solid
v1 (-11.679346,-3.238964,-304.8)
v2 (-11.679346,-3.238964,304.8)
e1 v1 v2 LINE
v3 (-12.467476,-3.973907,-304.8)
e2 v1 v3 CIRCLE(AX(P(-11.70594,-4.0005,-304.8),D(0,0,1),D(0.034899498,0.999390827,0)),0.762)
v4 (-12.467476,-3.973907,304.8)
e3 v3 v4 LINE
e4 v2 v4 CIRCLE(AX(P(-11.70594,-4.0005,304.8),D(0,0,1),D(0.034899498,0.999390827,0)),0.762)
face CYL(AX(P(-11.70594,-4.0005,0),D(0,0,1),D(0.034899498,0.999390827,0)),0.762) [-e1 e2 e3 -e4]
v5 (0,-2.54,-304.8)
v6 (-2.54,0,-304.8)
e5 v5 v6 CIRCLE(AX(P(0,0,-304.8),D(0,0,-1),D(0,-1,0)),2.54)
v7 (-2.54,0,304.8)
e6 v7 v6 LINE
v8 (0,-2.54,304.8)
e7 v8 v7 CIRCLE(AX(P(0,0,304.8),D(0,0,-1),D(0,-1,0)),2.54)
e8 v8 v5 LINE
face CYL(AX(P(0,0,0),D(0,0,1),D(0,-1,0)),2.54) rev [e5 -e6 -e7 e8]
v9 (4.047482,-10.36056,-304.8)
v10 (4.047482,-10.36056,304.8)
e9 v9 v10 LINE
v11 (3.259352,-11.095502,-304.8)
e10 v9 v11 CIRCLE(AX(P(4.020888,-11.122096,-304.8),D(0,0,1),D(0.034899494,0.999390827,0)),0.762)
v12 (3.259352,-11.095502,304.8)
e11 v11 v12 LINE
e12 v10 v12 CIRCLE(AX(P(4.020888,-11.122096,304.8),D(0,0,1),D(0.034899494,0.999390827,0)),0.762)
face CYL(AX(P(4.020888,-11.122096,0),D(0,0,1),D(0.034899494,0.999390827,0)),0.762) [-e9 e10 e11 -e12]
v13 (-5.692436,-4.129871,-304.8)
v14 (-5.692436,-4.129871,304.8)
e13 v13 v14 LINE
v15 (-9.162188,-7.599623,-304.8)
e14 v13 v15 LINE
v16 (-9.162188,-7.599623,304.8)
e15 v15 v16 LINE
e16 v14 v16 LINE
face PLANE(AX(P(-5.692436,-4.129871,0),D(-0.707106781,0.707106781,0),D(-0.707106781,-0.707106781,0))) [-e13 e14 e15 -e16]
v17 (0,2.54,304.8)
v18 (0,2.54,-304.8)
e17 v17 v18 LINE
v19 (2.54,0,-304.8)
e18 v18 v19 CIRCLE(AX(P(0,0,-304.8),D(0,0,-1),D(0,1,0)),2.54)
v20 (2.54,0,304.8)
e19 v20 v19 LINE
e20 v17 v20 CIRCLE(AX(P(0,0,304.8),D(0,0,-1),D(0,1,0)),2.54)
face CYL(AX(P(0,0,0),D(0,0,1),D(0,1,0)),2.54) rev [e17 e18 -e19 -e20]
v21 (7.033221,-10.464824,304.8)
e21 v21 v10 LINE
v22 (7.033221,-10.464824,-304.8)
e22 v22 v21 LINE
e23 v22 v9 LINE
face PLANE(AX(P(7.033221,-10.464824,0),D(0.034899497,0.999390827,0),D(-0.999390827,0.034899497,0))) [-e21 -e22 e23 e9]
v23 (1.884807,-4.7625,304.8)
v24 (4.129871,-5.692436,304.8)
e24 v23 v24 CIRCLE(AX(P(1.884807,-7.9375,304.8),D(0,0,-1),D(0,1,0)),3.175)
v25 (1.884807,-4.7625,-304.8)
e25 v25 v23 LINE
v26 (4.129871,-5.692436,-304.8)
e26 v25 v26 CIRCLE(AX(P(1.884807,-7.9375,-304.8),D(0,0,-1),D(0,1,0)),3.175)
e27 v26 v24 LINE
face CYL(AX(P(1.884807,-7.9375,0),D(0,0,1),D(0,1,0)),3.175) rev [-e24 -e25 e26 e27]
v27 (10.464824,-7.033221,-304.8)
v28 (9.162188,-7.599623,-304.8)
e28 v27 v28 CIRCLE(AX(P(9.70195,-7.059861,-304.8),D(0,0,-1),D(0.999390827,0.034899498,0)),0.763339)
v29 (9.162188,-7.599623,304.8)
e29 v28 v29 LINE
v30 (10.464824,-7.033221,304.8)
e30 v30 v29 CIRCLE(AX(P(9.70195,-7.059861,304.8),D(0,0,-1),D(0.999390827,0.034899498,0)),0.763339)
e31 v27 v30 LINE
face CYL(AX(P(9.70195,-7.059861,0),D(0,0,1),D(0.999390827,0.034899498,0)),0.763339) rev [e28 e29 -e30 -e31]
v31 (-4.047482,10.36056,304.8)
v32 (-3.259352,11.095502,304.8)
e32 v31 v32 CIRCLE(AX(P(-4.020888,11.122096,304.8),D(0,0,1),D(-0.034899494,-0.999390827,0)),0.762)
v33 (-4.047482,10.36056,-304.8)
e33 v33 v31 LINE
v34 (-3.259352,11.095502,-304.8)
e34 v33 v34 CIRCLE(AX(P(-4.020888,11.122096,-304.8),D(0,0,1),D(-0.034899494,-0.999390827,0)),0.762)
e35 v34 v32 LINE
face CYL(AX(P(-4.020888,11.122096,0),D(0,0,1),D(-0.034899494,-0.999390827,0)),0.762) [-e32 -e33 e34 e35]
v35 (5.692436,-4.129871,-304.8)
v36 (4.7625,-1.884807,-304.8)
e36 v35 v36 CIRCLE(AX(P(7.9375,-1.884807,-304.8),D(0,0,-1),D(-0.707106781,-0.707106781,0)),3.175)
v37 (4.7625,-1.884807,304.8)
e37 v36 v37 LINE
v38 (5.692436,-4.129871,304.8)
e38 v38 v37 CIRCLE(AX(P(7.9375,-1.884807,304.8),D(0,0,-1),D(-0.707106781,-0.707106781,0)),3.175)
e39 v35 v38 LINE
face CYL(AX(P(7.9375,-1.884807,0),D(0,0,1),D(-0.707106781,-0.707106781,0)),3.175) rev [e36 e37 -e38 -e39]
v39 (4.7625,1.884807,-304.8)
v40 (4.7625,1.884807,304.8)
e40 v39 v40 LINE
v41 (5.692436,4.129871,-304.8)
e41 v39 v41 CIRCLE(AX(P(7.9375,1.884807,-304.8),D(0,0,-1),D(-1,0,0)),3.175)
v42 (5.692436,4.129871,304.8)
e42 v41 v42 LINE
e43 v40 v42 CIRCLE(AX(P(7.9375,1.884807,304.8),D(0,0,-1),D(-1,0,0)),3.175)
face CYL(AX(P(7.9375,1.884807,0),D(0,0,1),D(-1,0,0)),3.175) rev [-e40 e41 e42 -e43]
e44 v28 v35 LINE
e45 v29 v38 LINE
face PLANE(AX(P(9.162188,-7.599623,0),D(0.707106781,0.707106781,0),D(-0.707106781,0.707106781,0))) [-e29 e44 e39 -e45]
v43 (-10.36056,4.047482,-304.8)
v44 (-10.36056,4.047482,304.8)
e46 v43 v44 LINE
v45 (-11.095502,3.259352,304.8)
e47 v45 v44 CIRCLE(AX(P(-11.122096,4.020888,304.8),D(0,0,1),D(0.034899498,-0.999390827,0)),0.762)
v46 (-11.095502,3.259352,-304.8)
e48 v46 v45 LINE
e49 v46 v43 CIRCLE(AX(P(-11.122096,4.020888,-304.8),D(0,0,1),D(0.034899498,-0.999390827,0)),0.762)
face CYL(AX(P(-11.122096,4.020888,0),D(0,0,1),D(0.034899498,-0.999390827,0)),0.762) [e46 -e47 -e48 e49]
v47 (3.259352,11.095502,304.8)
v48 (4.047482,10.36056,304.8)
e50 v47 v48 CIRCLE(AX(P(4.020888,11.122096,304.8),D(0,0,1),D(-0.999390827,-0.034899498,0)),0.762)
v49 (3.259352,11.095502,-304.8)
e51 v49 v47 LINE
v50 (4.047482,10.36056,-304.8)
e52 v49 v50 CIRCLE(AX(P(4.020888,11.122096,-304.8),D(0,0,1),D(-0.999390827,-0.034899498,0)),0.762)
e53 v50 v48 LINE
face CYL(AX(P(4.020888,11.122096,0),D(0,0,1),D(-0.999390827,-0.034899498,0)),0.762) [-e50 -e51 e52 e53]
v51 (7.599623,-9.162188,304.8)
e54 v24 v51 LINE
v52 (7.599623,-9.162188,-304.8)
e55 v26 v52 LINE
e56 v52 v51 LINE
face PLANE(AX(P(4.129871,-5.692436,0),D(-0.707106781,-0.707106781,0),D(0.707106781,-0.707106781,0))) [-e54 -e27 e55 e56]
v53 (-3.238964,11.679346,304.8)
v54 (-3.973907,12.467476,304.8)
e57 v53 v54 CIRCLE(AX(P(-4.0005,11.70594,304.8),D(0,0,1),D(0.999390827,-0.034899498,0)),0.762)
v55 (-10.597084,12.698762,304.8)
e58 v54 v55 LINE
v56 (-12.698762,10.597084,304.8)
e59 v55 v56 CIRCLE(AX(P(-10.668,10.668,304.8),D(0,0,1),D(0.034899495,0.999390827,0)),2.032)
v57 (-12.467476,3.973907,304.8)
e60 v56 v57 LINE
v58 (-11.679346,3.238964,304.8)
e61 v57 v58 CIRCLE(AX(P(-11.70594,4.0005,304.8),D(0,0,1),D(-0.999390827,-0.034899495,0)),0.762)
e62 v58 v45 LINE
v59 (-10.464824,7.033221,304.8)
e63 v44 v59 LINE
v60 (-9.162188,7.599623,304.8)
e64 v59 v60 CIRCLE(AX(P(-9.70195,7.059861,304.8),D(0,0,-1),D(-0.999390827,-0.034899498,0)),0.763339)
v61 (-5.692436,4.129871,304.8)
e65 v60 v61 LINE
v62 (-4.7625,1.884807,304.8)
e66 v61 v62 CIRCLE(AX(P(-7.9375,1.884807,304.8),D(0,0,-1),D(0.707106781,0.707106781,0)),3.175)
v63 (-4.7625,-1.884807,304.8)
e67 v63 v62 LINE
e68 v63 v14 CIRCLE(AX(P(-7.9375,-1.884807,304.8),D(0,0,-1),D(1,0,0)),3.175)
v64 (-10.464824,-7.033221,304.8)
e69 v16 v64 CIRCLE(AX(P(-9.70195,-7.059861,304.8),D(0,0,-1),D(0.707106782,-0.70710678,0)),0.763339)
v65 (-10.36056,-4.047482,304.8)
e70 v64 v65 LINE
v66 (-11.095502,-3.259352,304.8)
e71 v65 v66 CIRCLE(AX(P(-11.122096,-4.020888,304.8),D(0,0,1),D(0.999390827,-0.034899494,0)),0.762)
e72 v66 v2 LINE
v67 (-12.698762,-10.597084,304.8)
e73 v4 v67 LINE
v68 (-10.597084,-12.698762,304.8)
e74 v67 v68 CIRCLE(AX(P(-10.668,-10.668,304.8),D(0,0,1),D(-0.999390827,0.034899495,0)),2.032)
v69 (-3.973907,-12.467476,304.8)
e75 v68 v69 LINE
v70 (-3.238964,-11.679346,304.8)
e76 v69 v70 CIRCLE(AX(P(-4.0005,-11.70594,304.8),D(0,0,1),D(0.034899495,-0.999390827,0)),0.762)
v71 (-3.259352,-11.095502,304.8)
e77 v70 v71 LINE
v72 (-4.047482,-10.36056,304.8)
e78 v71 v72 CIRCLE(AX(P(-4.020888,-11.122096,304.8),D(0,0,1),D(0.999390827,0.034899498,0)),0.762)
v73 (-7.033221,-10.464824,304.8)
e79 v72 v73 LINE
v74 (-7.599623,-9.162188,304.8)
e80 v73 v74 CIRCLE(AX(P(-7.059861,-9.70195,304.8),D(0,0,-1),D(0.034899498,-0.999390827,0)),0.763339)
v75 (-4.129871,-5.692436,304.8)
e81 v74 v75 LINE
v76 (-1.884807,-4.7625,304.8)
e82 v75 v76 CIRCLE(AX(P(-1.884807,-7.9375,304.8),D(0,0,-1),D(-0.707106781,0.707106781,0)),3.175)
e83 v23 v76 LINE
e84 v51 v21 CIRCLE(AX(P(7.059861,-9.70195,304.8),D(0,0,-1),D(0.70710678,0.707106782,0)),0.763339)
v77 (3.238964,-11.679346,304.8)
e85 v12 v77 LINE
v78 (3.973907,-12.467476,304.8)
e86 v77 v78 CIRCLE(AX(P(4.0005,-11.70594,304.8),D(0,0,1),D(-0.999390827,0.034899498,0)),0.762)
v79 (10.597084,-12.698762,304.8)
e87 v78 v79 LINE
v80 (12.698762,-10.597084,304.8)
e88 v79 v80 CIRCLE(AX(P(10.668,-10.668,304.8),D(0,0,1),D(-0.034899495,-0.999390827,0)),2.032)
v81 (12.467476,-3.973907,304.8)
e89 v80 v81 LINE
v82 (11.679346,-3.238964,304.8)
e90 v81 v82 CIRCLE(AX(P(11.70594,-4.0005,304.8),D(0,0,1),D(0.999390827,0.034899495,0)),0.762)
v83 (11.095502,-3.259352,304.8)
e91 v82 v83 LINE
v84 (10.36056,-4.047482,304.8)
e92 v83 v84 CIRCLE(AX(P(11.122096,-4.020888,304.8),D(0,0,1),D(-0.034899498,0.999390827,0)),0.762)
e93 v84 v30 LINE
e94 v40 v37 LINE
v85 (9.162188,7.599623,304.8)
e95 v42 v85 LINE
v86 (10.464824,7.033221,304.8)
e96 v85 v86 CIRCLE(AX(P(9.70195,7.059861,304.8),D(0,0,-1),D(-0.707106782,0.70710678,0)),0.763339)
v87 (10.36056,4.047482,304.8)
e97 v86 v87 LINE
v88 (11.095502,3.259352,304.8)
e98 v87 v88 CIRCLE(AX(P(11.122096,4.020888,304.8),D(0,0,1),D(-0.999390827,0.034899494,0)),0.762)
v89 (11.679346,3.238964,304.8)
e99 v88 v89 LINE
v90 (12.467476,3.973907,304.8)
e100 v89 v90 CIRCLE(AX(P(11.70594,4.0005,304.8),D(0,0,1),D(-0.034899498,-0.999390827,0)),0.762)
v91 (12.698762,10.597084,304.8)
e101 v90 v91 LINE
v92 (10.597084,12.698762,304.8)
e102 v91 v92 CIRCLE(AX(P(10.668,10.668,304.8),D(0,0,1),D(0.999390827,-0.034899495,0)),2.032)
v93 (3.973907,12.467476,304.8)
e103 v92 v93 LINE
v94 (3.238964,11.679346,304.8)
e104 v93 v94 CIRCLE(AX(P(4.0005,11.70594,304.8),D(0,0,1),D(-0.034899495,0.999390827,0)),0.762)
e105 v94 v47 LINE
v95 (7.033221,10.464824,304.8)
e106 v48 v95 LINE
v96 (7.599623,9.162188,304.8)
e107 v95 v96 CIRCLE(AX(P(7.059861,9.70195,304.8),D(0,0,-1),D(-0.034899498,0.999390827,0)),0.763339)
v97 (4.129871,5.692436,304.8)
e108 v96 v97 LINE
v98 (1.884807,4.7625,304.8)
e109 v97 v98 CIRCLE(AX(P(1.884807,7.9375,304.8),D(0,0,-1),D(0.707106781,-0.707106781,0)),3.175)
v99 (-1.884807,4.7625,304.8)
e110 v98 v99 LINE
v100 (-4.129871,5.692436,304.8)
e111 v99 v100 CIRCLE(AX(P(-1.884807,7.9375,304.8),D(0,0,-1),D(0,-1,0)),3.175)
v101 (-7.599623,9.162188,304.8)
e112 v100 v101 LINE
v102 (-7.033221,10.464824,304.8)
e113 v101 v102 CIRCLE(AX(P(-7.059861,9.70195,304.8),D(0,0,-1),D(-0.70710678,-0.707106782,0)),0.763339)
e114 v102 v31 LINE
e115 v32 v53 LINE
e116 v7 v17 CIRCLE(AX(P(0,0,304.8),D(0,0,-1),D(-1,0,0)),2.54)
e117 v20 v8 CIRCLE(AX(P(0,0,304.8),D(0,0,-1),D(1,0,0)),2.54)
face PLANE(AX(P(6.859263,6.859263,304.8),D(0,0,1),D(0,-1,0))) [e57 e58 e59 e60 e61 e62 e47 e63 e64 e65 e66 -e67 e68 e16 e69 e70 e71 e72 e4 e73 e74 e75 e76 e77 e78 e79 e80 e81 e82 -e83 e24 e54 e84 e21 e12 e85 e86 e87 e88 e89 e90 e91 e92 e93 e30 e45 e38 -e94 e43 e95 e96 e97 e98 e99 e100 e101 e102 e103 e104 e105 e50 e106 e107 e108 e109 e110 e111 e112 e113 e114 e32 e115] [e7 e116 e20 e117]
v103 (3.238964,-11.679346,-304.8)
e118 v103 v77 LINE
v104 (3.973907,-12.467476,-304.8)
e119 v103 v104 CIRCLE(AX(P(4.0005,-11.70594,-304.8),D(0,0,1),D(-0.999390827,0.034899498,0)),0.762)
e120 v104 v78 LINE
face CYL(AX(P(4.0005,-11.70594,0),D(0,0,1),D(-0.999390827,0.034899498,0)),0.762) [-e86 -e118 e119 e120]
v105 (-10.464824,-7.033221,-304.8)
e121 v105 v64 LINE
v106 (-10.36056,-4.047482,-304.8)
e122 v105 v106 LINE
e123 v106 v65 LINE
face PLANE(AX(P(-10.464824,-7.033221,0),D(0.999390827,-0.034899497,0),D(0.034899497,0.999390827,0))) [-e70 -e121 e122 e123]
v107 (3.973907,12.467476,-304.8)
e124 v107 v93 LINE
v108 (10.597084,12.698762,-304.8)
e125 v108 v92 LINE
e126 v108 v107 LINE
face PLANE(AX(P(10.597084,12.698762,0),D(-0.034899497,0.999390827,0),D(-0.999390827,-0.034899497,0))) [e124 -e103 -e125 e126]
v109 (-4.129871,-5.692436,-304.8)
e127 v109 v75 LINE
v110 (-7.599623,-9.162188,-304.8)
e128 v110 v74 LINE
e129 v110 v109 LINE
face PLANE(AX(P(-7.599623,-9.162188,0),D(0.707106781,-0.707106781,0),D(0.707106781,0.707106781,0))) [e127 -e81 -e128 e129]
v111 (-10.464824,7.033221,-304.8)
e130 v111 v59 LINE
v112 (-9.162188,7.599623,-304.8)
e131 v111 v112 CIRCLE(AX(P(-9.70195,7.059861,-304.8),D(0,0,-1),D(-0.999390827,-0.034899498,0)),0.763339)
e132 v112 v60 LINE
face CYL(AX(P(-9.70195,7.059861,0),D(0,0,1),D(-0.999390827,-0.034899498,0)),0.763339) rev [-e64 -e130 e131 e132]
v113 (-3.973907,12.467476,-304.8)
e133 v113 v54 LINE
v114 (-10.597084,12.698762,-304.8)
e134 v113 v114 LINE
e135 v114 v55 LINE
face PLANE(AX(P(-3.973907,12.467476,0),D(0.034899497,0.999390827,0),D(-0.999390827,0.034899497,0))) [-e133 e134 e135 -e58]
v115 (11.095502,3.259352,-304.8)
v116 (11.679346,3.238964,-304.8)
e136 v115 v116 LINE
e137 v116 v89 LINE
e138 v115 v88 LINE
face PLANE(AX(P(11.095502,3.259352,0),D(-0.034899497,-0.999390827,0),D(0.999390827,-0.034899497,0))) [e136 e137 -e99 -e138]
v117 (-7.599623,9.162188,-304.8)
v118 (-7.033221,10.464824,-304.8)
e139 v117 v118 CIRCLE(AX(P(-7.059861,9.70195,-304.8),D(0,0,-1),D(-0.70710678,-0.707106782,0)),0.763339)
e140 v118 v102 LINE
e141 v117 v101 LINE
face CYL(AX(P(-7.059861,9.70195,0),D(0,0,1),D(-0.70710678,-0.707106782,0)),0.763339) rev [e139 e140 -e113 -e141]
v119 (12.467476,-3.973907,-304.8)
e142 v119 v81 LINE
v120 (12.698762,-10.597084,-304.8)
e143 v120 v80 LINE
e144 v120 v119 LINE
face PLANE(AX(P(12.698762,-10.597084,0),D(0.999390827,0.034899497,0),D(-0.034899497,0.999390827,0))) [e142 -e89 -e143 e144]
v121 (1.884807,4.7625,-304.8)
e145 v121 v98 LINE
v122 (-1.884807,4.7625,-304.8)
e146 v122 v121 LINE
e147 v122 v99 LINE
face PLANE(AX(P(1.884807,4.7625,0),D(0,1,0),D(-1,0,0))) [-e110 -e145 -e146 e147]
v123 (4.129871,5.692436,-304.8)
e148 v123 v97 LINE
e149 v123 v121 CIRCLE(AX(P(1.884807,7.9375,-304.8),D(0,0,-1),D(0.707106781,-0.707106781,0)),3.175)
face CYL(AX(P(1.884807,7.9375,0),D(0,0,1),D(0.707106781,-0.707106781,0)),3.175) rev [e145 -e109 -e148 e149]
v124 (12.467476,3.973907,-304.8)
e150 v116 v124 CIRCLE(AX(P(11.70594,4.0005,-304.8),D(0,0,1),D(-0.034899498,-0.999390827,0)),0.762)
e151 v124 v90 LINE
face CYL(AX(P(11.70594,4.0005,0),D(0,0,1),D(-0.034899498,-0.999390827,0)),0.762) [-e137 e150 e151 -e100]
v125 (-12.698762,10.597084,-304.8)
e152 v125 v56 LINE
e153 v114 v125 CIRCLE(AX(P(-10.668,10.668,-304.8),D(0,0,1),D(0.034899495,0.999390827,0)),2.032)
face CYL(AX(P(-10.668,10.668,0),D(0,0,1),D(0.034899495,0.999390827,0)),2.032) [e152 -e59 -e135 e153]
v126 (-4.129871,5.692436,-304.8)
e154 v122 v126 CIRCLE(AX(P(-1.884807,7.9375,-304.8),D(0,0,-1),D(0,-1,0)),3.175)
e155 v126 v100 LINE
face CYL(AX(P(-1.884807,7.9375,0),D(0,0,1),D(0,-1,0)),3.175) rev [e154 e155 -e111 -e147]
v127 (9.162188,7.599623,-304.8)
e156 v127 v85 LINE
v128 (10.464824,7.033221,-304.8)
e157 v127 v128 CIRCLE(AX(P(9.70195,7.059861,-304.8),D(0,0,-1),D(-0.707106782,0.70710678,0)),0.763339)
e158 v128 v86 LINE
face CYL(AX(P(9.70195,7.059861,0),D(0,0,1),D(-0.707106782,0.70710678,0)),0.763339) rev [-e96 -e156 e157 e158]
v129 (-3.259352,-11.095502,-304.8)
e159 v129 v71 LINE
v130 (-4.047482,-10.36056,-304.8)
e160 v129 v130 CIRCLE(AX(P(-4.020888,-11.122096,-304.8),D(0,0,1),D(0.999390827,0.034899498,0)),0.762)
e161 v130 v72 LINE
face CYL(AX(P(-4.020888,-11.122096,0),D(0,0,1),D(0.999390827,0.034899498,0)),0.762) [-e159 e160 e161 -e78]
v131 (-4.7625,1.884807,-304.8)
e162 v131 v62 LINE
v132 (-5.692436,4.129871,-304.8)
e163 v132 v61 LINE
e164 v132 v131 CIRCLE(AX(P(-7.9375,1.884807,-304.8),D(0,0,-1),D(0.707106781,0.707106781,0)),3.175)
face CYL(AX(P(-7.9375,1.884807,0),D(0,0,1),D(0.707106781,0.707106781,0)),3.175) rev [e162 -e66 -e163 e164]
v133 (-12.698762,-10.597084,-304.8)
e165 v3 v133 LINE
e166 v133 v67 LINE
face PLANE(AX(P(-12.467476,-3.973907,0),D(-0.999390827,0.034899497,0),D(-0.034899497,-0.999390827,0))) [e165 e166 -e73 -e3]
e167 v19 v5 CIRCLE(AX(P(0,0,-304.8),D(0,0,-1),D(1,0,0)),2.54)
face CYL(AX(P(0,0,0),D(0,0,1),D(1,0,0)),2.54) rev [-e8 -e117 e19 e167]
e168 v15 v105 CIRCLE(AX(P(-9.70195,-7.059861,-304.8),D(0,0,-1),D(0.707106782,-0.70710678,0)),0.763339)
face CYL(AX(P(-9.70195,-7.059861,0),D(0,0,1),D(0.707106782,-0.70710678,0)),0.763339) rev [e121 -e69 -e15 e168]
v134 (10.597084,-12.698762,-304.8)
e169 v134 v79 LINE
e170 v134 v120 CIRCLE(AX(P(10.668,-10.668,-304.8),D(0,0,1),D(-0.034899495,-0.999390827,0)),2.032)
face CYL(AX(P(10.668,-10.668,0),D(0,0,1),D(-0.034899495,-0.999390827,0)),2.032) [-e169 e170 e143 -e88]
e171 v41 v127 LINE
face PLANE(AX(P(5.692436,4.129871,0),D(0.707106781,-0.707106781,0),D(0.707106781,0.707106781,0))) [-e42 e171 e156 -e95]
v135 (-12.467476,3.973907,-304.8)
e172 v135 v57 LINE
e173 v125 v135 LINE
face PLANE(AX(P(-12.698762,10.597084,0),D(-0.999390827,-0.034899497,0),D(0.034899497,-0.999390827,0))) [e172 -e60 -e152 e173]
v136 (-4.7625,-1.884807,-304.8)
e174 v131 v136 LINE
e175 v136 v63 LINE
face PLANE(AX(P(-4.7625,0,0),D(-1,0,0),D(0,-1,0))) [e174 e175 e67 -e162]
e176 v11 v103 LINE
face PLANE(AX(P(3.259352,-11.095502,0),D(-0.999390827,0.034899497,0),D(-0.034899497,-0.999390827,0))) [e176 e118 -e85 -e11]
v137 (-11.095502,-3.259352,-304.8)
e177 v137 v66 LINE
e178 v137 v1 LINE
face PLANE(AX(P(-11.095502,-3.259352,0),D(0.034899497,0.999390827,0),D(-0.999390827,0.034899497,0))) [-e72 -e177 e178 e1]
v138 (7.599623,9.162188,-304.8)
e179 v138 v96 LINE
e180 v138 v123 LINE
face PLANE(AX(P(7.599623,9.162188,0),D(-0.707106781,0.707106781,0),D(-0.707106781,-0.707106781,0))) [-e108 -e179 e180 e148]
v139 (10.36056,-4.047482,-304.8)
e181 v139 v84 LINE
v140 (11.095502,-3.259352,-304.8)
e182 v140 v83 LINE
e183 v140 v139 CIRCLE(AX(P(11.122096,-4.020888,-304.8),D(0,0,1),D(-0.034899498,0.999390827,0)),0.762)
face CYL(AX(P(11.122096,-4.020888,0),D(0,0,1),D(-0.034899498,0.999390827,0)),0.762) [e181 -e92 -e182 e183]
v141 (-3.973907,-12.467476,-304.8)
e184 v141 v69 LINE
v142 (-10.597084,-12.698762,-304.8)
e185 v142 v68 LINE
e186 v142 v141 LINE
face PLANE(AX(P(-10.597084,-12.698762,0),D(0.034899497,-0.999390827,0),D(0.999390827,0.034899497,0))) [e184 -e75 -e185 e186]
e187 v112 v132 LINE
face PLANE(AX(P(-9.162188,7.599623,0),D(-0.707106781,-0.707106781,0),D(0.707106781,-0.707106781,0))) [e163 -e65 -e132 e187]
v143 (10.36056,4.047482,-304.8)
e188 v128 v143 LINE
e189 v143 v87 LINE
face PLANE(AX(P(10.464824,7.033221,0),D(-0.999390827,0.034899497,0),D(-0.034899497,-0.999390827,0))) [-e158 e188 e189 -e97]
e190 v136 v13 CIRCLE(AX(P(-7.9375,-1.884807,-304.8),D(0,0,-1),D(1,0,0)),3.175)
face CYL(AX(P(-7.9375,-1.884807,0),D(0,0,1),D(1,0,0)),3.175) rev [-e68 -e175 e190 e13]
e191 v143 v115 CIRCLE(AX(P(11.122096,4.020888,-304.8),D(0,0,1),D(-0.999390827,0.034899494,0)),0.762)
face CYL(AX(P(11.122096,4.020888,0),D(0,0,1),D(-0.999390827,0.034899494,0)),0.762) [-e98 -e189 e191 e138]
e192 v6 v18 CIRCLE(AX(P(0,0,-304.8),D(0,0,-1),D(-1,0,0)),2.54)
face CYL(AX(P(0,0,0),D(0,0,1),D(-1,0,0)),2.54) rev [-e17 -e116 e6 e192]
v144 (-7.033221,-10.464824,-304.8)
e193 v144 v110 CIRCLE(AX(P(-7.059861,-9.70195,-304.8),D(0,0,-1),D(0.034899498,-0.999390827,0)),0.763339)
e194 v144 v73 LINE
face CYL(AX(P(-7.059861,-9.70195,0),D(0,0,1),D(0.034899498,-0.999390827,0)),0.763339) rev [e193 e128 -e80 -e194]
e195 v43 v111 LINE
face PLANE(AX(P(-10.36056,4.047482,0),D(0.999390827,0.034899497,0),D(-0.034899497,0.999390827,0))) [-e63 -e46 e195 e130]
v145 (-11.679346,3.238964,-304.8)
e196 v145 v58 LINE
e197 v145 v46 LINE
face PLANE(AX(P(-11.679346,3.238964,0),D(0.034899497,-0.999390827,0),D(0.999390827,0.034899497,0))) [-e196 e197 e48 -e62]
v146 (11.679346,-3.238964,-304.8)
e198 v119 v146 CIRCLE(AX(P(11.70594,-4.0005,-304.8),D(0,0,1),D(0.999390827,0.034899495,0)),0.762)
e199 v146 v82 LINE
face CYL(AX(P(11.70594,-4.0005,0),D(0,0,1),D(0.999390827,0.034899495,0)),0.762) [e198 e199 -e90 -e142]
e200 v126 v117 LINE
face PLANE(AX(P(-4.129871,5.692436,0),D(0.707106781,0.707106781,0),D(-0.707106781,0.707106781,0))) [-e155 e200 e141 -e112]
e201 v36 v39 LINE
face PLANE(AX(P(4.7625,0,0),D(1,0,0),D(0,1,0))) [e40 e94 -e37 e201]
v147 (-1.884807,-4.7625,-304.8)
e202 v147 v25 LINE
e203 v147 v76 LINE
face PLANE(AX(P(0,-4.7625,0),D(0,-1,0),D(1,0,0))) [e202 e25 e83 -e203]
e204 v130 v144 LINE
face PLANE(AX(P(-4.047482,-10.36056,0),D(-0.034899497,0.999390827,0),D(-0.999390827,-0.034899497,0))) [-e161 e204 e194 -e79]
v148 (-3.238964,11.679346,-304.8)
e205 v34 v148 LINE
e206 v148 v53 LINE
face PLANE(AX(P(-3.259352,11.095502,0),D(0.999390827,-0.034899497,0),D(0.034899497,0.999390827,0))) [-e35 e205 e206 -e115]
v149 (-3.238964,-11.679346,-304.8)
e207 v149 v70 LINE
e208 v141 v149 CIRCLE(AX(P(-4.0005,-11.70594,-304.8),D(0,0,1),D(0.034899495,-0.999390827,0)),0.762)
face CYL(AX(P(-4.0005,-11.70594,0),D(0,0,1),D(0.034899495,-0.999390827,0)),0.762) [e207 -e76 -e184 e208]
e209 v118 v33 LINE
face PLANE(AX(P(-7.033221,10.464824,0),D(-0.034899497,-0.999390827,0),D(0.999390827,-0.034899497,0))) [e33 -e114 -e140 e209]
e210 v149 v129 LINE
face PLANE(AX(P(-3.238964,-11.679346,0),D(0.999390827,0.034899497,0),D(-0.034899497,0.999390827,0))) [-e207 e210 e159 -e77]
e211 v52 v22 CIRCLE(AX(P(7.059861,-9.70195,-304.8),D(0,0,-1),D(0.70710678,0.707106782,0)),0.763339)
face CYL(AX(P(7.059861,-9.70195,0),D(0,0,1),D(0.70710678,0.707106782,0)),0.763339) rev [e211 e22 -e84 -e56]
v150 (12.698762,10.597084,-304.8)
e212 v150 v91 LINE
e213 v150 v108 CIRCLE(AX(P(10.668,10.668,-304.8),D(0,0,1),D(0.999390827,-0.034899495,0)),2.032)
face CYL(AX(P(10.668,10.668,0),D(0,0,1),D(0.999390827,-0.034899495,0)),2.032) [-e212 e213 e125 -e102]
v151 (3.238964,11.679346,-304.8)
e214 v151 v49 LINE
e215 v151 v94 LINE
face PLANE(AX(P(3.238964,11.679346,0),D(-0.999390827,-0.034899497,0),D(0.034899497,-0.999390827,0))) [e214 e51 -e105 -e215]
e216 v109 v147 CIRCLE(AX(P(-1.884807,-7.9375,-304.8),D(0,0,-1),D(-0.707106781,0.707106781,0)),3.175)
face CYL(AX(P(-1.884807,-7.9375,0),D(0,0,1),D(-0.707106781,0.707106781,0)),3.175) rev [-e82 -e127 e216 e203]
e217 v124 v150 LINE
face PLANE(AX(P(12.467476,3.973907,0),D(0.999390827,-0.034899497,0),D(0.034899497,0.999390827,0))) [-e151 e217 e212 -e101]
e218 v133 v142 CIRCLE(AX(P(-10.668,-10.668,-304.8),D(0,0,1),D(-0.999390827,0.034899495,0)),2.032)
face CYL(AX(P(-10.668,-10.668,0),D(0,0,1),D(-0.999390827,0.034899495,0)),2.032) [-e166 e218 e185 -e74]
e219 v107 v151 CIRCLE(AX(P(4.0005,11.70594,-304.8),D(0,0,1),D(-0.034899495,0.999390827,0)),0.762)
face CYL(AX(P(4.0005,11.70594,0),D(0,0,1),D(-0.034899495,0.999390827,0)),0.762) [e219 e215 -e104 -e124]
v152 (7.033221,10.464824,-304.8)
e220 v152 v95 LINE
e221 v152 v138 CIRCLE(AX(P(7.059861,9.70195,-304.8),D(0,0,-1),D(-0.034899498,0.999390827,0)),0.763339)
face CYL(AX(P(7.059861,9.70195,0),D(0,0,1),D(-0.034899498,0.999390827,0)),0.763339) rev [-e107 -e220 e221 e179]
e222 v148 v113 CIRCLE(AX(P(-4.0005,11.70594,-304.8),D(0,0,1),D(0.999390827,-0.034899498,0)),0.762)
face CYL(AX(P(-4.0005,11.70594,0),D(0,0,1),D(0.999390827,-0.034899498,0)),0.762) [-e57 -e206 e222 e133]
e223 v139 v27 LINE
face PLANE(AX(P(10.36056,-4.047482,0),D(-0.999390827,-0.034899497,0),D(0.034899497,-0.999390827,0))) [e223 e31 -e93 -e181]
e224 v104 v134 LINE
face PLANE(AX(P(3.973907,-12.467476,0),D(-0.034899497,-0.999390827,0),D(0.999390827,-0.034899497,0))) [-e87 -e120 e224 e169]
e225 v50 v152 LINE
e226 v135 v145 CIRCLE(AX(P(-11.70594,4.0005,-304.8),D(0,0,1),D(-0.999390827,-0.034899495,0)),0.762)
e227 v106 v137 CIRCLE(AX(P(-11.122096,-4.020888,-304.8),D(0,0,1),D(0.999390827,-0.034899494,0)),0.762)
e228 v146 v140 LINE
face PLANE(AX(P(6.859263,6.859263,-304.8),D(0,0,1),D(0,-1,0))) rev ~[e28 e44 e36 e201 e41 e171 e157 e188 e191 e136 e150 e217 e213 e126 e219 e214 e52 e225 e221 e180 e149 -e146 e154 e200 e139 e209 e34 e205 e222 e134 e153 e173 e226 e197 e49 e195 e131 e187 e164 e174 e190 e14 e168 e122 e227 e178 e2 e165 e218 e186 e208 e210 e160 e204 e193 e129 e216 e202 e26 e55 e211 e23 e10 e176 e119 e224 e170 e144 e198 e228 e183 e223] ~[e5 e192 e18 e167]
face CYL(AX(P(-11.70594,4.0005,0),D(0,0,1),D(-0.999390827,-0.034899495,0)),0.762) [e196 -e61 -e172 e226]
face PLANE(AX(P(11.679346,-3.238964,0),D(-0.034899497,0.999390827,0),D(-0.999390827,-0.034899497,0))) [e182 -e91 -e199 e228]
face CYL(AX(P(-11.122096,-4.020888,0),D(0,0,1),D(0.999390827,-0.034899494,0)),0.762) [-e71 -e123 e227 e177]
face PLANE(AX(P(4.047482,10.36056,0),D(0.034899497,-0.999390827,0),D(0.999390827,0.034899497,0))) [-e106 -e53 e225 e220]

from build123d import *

# Parameters (mm, degrees)
BOSS_EXTRUDE1_DEPTH = 304.8
CIRPATTERN1_COUNT   = 4


with BuildPart() as part:
    # Sketch3 → Boss-Extrude1 (new, symmetric)
    with BuildSketch(Plane.XY):
        with BuildLine():
            Line((0, 4.7625), (-1.884807374, 4.7625))
            ThreePointArc((-1.884807374, 4.7625), (-3.099827272, 5.004182484), (-4.129871405, 5.69243597))
            Line((-4.129871405, 5.69243597), (-7.599623114, 9.162187679))
            ThreePointArc((-7.599623114, 9.162187679), (-7.759888701, 10.006330839), (-7.033220609, 10.464824259))
            Line((-7.033220609, 10.464824259), (-4.047481702, 10.360559959))
            ThreePointArc((-4.047481702, 10.360559959), (-3.501205536, 10.564804249), (-3.259352476, 11.095502353))
            Line((-3.259352476, 11.095502353), (-3.23896419, 11.679346474))
            ThreePointArc((-3.23896419, 11.679346474), (-3.443208479, 12.225622641), (-3.973906584, 12.467475701))
            Line((-3.973906584, 12.467475701), (-10.597084223, 12.698762161))
            ThreePointArc((-10.597084223, 12.698762161), (-12.104840979, 12.104840979), (-12.698762161, 10.597084223))
            Line((-12.698762161, 10.597084223), (-12.467475701, 3.973906584))
            ThreePointArc((-12.467475701, 3.973906584), (-12.225622641, 3.443208479), (-11.679346474, 3.23896419))
            Line((-11.679346474, 3.23896419), (-11.095502353, 3.259352476))
            ThreePointArc((-11.095502353, 3.259352476), (-10.564804249, 3.501205536), (-10.360559959, 4.047481702))
            Line((-10.360559959, 4.047481702), (-10.464824259, 7.033220609))
            ThreePointArc((-10.464824259, 7.033220609), (-10.006330839, 7.759888701), (-9.162187679, 7.599623114))
            Line((-9.162187679, 7.599623114), (-5.69243597, 4.129871405))
            ThreePointArc((-5.69243597, 4.129871405), (-5.004182484, 3.099827272), (-4.7625, 1.884807374))
            Line((-4.7625, 1.884807374), (-4.7625, 0))
            Line((-4.7625, 0), (-2.54, 0))
            ThreePointArc((-2.54, 0), (-1.796051224, 1.796051224), (0, 2.54))
            Line((0, 2.54), (0, 4.7625))
        make_face()
    boss_extrude1 = extrude(amount=BOSS_EXTRUDE1_DEPTH, both=True)

    # CirPattern1: Boss-Extrude1 ×4 about axis
    cirpattern1_axis = Axis((0, 0, 0), (0, 0, 1))
    for i in range(1, CIRPATTERN1_COUNT):
        add(boss_extrude1.rotate(cirpattern1_axis, i * 360 / CIRPATTERN1_COUNT))


solid = part.part
